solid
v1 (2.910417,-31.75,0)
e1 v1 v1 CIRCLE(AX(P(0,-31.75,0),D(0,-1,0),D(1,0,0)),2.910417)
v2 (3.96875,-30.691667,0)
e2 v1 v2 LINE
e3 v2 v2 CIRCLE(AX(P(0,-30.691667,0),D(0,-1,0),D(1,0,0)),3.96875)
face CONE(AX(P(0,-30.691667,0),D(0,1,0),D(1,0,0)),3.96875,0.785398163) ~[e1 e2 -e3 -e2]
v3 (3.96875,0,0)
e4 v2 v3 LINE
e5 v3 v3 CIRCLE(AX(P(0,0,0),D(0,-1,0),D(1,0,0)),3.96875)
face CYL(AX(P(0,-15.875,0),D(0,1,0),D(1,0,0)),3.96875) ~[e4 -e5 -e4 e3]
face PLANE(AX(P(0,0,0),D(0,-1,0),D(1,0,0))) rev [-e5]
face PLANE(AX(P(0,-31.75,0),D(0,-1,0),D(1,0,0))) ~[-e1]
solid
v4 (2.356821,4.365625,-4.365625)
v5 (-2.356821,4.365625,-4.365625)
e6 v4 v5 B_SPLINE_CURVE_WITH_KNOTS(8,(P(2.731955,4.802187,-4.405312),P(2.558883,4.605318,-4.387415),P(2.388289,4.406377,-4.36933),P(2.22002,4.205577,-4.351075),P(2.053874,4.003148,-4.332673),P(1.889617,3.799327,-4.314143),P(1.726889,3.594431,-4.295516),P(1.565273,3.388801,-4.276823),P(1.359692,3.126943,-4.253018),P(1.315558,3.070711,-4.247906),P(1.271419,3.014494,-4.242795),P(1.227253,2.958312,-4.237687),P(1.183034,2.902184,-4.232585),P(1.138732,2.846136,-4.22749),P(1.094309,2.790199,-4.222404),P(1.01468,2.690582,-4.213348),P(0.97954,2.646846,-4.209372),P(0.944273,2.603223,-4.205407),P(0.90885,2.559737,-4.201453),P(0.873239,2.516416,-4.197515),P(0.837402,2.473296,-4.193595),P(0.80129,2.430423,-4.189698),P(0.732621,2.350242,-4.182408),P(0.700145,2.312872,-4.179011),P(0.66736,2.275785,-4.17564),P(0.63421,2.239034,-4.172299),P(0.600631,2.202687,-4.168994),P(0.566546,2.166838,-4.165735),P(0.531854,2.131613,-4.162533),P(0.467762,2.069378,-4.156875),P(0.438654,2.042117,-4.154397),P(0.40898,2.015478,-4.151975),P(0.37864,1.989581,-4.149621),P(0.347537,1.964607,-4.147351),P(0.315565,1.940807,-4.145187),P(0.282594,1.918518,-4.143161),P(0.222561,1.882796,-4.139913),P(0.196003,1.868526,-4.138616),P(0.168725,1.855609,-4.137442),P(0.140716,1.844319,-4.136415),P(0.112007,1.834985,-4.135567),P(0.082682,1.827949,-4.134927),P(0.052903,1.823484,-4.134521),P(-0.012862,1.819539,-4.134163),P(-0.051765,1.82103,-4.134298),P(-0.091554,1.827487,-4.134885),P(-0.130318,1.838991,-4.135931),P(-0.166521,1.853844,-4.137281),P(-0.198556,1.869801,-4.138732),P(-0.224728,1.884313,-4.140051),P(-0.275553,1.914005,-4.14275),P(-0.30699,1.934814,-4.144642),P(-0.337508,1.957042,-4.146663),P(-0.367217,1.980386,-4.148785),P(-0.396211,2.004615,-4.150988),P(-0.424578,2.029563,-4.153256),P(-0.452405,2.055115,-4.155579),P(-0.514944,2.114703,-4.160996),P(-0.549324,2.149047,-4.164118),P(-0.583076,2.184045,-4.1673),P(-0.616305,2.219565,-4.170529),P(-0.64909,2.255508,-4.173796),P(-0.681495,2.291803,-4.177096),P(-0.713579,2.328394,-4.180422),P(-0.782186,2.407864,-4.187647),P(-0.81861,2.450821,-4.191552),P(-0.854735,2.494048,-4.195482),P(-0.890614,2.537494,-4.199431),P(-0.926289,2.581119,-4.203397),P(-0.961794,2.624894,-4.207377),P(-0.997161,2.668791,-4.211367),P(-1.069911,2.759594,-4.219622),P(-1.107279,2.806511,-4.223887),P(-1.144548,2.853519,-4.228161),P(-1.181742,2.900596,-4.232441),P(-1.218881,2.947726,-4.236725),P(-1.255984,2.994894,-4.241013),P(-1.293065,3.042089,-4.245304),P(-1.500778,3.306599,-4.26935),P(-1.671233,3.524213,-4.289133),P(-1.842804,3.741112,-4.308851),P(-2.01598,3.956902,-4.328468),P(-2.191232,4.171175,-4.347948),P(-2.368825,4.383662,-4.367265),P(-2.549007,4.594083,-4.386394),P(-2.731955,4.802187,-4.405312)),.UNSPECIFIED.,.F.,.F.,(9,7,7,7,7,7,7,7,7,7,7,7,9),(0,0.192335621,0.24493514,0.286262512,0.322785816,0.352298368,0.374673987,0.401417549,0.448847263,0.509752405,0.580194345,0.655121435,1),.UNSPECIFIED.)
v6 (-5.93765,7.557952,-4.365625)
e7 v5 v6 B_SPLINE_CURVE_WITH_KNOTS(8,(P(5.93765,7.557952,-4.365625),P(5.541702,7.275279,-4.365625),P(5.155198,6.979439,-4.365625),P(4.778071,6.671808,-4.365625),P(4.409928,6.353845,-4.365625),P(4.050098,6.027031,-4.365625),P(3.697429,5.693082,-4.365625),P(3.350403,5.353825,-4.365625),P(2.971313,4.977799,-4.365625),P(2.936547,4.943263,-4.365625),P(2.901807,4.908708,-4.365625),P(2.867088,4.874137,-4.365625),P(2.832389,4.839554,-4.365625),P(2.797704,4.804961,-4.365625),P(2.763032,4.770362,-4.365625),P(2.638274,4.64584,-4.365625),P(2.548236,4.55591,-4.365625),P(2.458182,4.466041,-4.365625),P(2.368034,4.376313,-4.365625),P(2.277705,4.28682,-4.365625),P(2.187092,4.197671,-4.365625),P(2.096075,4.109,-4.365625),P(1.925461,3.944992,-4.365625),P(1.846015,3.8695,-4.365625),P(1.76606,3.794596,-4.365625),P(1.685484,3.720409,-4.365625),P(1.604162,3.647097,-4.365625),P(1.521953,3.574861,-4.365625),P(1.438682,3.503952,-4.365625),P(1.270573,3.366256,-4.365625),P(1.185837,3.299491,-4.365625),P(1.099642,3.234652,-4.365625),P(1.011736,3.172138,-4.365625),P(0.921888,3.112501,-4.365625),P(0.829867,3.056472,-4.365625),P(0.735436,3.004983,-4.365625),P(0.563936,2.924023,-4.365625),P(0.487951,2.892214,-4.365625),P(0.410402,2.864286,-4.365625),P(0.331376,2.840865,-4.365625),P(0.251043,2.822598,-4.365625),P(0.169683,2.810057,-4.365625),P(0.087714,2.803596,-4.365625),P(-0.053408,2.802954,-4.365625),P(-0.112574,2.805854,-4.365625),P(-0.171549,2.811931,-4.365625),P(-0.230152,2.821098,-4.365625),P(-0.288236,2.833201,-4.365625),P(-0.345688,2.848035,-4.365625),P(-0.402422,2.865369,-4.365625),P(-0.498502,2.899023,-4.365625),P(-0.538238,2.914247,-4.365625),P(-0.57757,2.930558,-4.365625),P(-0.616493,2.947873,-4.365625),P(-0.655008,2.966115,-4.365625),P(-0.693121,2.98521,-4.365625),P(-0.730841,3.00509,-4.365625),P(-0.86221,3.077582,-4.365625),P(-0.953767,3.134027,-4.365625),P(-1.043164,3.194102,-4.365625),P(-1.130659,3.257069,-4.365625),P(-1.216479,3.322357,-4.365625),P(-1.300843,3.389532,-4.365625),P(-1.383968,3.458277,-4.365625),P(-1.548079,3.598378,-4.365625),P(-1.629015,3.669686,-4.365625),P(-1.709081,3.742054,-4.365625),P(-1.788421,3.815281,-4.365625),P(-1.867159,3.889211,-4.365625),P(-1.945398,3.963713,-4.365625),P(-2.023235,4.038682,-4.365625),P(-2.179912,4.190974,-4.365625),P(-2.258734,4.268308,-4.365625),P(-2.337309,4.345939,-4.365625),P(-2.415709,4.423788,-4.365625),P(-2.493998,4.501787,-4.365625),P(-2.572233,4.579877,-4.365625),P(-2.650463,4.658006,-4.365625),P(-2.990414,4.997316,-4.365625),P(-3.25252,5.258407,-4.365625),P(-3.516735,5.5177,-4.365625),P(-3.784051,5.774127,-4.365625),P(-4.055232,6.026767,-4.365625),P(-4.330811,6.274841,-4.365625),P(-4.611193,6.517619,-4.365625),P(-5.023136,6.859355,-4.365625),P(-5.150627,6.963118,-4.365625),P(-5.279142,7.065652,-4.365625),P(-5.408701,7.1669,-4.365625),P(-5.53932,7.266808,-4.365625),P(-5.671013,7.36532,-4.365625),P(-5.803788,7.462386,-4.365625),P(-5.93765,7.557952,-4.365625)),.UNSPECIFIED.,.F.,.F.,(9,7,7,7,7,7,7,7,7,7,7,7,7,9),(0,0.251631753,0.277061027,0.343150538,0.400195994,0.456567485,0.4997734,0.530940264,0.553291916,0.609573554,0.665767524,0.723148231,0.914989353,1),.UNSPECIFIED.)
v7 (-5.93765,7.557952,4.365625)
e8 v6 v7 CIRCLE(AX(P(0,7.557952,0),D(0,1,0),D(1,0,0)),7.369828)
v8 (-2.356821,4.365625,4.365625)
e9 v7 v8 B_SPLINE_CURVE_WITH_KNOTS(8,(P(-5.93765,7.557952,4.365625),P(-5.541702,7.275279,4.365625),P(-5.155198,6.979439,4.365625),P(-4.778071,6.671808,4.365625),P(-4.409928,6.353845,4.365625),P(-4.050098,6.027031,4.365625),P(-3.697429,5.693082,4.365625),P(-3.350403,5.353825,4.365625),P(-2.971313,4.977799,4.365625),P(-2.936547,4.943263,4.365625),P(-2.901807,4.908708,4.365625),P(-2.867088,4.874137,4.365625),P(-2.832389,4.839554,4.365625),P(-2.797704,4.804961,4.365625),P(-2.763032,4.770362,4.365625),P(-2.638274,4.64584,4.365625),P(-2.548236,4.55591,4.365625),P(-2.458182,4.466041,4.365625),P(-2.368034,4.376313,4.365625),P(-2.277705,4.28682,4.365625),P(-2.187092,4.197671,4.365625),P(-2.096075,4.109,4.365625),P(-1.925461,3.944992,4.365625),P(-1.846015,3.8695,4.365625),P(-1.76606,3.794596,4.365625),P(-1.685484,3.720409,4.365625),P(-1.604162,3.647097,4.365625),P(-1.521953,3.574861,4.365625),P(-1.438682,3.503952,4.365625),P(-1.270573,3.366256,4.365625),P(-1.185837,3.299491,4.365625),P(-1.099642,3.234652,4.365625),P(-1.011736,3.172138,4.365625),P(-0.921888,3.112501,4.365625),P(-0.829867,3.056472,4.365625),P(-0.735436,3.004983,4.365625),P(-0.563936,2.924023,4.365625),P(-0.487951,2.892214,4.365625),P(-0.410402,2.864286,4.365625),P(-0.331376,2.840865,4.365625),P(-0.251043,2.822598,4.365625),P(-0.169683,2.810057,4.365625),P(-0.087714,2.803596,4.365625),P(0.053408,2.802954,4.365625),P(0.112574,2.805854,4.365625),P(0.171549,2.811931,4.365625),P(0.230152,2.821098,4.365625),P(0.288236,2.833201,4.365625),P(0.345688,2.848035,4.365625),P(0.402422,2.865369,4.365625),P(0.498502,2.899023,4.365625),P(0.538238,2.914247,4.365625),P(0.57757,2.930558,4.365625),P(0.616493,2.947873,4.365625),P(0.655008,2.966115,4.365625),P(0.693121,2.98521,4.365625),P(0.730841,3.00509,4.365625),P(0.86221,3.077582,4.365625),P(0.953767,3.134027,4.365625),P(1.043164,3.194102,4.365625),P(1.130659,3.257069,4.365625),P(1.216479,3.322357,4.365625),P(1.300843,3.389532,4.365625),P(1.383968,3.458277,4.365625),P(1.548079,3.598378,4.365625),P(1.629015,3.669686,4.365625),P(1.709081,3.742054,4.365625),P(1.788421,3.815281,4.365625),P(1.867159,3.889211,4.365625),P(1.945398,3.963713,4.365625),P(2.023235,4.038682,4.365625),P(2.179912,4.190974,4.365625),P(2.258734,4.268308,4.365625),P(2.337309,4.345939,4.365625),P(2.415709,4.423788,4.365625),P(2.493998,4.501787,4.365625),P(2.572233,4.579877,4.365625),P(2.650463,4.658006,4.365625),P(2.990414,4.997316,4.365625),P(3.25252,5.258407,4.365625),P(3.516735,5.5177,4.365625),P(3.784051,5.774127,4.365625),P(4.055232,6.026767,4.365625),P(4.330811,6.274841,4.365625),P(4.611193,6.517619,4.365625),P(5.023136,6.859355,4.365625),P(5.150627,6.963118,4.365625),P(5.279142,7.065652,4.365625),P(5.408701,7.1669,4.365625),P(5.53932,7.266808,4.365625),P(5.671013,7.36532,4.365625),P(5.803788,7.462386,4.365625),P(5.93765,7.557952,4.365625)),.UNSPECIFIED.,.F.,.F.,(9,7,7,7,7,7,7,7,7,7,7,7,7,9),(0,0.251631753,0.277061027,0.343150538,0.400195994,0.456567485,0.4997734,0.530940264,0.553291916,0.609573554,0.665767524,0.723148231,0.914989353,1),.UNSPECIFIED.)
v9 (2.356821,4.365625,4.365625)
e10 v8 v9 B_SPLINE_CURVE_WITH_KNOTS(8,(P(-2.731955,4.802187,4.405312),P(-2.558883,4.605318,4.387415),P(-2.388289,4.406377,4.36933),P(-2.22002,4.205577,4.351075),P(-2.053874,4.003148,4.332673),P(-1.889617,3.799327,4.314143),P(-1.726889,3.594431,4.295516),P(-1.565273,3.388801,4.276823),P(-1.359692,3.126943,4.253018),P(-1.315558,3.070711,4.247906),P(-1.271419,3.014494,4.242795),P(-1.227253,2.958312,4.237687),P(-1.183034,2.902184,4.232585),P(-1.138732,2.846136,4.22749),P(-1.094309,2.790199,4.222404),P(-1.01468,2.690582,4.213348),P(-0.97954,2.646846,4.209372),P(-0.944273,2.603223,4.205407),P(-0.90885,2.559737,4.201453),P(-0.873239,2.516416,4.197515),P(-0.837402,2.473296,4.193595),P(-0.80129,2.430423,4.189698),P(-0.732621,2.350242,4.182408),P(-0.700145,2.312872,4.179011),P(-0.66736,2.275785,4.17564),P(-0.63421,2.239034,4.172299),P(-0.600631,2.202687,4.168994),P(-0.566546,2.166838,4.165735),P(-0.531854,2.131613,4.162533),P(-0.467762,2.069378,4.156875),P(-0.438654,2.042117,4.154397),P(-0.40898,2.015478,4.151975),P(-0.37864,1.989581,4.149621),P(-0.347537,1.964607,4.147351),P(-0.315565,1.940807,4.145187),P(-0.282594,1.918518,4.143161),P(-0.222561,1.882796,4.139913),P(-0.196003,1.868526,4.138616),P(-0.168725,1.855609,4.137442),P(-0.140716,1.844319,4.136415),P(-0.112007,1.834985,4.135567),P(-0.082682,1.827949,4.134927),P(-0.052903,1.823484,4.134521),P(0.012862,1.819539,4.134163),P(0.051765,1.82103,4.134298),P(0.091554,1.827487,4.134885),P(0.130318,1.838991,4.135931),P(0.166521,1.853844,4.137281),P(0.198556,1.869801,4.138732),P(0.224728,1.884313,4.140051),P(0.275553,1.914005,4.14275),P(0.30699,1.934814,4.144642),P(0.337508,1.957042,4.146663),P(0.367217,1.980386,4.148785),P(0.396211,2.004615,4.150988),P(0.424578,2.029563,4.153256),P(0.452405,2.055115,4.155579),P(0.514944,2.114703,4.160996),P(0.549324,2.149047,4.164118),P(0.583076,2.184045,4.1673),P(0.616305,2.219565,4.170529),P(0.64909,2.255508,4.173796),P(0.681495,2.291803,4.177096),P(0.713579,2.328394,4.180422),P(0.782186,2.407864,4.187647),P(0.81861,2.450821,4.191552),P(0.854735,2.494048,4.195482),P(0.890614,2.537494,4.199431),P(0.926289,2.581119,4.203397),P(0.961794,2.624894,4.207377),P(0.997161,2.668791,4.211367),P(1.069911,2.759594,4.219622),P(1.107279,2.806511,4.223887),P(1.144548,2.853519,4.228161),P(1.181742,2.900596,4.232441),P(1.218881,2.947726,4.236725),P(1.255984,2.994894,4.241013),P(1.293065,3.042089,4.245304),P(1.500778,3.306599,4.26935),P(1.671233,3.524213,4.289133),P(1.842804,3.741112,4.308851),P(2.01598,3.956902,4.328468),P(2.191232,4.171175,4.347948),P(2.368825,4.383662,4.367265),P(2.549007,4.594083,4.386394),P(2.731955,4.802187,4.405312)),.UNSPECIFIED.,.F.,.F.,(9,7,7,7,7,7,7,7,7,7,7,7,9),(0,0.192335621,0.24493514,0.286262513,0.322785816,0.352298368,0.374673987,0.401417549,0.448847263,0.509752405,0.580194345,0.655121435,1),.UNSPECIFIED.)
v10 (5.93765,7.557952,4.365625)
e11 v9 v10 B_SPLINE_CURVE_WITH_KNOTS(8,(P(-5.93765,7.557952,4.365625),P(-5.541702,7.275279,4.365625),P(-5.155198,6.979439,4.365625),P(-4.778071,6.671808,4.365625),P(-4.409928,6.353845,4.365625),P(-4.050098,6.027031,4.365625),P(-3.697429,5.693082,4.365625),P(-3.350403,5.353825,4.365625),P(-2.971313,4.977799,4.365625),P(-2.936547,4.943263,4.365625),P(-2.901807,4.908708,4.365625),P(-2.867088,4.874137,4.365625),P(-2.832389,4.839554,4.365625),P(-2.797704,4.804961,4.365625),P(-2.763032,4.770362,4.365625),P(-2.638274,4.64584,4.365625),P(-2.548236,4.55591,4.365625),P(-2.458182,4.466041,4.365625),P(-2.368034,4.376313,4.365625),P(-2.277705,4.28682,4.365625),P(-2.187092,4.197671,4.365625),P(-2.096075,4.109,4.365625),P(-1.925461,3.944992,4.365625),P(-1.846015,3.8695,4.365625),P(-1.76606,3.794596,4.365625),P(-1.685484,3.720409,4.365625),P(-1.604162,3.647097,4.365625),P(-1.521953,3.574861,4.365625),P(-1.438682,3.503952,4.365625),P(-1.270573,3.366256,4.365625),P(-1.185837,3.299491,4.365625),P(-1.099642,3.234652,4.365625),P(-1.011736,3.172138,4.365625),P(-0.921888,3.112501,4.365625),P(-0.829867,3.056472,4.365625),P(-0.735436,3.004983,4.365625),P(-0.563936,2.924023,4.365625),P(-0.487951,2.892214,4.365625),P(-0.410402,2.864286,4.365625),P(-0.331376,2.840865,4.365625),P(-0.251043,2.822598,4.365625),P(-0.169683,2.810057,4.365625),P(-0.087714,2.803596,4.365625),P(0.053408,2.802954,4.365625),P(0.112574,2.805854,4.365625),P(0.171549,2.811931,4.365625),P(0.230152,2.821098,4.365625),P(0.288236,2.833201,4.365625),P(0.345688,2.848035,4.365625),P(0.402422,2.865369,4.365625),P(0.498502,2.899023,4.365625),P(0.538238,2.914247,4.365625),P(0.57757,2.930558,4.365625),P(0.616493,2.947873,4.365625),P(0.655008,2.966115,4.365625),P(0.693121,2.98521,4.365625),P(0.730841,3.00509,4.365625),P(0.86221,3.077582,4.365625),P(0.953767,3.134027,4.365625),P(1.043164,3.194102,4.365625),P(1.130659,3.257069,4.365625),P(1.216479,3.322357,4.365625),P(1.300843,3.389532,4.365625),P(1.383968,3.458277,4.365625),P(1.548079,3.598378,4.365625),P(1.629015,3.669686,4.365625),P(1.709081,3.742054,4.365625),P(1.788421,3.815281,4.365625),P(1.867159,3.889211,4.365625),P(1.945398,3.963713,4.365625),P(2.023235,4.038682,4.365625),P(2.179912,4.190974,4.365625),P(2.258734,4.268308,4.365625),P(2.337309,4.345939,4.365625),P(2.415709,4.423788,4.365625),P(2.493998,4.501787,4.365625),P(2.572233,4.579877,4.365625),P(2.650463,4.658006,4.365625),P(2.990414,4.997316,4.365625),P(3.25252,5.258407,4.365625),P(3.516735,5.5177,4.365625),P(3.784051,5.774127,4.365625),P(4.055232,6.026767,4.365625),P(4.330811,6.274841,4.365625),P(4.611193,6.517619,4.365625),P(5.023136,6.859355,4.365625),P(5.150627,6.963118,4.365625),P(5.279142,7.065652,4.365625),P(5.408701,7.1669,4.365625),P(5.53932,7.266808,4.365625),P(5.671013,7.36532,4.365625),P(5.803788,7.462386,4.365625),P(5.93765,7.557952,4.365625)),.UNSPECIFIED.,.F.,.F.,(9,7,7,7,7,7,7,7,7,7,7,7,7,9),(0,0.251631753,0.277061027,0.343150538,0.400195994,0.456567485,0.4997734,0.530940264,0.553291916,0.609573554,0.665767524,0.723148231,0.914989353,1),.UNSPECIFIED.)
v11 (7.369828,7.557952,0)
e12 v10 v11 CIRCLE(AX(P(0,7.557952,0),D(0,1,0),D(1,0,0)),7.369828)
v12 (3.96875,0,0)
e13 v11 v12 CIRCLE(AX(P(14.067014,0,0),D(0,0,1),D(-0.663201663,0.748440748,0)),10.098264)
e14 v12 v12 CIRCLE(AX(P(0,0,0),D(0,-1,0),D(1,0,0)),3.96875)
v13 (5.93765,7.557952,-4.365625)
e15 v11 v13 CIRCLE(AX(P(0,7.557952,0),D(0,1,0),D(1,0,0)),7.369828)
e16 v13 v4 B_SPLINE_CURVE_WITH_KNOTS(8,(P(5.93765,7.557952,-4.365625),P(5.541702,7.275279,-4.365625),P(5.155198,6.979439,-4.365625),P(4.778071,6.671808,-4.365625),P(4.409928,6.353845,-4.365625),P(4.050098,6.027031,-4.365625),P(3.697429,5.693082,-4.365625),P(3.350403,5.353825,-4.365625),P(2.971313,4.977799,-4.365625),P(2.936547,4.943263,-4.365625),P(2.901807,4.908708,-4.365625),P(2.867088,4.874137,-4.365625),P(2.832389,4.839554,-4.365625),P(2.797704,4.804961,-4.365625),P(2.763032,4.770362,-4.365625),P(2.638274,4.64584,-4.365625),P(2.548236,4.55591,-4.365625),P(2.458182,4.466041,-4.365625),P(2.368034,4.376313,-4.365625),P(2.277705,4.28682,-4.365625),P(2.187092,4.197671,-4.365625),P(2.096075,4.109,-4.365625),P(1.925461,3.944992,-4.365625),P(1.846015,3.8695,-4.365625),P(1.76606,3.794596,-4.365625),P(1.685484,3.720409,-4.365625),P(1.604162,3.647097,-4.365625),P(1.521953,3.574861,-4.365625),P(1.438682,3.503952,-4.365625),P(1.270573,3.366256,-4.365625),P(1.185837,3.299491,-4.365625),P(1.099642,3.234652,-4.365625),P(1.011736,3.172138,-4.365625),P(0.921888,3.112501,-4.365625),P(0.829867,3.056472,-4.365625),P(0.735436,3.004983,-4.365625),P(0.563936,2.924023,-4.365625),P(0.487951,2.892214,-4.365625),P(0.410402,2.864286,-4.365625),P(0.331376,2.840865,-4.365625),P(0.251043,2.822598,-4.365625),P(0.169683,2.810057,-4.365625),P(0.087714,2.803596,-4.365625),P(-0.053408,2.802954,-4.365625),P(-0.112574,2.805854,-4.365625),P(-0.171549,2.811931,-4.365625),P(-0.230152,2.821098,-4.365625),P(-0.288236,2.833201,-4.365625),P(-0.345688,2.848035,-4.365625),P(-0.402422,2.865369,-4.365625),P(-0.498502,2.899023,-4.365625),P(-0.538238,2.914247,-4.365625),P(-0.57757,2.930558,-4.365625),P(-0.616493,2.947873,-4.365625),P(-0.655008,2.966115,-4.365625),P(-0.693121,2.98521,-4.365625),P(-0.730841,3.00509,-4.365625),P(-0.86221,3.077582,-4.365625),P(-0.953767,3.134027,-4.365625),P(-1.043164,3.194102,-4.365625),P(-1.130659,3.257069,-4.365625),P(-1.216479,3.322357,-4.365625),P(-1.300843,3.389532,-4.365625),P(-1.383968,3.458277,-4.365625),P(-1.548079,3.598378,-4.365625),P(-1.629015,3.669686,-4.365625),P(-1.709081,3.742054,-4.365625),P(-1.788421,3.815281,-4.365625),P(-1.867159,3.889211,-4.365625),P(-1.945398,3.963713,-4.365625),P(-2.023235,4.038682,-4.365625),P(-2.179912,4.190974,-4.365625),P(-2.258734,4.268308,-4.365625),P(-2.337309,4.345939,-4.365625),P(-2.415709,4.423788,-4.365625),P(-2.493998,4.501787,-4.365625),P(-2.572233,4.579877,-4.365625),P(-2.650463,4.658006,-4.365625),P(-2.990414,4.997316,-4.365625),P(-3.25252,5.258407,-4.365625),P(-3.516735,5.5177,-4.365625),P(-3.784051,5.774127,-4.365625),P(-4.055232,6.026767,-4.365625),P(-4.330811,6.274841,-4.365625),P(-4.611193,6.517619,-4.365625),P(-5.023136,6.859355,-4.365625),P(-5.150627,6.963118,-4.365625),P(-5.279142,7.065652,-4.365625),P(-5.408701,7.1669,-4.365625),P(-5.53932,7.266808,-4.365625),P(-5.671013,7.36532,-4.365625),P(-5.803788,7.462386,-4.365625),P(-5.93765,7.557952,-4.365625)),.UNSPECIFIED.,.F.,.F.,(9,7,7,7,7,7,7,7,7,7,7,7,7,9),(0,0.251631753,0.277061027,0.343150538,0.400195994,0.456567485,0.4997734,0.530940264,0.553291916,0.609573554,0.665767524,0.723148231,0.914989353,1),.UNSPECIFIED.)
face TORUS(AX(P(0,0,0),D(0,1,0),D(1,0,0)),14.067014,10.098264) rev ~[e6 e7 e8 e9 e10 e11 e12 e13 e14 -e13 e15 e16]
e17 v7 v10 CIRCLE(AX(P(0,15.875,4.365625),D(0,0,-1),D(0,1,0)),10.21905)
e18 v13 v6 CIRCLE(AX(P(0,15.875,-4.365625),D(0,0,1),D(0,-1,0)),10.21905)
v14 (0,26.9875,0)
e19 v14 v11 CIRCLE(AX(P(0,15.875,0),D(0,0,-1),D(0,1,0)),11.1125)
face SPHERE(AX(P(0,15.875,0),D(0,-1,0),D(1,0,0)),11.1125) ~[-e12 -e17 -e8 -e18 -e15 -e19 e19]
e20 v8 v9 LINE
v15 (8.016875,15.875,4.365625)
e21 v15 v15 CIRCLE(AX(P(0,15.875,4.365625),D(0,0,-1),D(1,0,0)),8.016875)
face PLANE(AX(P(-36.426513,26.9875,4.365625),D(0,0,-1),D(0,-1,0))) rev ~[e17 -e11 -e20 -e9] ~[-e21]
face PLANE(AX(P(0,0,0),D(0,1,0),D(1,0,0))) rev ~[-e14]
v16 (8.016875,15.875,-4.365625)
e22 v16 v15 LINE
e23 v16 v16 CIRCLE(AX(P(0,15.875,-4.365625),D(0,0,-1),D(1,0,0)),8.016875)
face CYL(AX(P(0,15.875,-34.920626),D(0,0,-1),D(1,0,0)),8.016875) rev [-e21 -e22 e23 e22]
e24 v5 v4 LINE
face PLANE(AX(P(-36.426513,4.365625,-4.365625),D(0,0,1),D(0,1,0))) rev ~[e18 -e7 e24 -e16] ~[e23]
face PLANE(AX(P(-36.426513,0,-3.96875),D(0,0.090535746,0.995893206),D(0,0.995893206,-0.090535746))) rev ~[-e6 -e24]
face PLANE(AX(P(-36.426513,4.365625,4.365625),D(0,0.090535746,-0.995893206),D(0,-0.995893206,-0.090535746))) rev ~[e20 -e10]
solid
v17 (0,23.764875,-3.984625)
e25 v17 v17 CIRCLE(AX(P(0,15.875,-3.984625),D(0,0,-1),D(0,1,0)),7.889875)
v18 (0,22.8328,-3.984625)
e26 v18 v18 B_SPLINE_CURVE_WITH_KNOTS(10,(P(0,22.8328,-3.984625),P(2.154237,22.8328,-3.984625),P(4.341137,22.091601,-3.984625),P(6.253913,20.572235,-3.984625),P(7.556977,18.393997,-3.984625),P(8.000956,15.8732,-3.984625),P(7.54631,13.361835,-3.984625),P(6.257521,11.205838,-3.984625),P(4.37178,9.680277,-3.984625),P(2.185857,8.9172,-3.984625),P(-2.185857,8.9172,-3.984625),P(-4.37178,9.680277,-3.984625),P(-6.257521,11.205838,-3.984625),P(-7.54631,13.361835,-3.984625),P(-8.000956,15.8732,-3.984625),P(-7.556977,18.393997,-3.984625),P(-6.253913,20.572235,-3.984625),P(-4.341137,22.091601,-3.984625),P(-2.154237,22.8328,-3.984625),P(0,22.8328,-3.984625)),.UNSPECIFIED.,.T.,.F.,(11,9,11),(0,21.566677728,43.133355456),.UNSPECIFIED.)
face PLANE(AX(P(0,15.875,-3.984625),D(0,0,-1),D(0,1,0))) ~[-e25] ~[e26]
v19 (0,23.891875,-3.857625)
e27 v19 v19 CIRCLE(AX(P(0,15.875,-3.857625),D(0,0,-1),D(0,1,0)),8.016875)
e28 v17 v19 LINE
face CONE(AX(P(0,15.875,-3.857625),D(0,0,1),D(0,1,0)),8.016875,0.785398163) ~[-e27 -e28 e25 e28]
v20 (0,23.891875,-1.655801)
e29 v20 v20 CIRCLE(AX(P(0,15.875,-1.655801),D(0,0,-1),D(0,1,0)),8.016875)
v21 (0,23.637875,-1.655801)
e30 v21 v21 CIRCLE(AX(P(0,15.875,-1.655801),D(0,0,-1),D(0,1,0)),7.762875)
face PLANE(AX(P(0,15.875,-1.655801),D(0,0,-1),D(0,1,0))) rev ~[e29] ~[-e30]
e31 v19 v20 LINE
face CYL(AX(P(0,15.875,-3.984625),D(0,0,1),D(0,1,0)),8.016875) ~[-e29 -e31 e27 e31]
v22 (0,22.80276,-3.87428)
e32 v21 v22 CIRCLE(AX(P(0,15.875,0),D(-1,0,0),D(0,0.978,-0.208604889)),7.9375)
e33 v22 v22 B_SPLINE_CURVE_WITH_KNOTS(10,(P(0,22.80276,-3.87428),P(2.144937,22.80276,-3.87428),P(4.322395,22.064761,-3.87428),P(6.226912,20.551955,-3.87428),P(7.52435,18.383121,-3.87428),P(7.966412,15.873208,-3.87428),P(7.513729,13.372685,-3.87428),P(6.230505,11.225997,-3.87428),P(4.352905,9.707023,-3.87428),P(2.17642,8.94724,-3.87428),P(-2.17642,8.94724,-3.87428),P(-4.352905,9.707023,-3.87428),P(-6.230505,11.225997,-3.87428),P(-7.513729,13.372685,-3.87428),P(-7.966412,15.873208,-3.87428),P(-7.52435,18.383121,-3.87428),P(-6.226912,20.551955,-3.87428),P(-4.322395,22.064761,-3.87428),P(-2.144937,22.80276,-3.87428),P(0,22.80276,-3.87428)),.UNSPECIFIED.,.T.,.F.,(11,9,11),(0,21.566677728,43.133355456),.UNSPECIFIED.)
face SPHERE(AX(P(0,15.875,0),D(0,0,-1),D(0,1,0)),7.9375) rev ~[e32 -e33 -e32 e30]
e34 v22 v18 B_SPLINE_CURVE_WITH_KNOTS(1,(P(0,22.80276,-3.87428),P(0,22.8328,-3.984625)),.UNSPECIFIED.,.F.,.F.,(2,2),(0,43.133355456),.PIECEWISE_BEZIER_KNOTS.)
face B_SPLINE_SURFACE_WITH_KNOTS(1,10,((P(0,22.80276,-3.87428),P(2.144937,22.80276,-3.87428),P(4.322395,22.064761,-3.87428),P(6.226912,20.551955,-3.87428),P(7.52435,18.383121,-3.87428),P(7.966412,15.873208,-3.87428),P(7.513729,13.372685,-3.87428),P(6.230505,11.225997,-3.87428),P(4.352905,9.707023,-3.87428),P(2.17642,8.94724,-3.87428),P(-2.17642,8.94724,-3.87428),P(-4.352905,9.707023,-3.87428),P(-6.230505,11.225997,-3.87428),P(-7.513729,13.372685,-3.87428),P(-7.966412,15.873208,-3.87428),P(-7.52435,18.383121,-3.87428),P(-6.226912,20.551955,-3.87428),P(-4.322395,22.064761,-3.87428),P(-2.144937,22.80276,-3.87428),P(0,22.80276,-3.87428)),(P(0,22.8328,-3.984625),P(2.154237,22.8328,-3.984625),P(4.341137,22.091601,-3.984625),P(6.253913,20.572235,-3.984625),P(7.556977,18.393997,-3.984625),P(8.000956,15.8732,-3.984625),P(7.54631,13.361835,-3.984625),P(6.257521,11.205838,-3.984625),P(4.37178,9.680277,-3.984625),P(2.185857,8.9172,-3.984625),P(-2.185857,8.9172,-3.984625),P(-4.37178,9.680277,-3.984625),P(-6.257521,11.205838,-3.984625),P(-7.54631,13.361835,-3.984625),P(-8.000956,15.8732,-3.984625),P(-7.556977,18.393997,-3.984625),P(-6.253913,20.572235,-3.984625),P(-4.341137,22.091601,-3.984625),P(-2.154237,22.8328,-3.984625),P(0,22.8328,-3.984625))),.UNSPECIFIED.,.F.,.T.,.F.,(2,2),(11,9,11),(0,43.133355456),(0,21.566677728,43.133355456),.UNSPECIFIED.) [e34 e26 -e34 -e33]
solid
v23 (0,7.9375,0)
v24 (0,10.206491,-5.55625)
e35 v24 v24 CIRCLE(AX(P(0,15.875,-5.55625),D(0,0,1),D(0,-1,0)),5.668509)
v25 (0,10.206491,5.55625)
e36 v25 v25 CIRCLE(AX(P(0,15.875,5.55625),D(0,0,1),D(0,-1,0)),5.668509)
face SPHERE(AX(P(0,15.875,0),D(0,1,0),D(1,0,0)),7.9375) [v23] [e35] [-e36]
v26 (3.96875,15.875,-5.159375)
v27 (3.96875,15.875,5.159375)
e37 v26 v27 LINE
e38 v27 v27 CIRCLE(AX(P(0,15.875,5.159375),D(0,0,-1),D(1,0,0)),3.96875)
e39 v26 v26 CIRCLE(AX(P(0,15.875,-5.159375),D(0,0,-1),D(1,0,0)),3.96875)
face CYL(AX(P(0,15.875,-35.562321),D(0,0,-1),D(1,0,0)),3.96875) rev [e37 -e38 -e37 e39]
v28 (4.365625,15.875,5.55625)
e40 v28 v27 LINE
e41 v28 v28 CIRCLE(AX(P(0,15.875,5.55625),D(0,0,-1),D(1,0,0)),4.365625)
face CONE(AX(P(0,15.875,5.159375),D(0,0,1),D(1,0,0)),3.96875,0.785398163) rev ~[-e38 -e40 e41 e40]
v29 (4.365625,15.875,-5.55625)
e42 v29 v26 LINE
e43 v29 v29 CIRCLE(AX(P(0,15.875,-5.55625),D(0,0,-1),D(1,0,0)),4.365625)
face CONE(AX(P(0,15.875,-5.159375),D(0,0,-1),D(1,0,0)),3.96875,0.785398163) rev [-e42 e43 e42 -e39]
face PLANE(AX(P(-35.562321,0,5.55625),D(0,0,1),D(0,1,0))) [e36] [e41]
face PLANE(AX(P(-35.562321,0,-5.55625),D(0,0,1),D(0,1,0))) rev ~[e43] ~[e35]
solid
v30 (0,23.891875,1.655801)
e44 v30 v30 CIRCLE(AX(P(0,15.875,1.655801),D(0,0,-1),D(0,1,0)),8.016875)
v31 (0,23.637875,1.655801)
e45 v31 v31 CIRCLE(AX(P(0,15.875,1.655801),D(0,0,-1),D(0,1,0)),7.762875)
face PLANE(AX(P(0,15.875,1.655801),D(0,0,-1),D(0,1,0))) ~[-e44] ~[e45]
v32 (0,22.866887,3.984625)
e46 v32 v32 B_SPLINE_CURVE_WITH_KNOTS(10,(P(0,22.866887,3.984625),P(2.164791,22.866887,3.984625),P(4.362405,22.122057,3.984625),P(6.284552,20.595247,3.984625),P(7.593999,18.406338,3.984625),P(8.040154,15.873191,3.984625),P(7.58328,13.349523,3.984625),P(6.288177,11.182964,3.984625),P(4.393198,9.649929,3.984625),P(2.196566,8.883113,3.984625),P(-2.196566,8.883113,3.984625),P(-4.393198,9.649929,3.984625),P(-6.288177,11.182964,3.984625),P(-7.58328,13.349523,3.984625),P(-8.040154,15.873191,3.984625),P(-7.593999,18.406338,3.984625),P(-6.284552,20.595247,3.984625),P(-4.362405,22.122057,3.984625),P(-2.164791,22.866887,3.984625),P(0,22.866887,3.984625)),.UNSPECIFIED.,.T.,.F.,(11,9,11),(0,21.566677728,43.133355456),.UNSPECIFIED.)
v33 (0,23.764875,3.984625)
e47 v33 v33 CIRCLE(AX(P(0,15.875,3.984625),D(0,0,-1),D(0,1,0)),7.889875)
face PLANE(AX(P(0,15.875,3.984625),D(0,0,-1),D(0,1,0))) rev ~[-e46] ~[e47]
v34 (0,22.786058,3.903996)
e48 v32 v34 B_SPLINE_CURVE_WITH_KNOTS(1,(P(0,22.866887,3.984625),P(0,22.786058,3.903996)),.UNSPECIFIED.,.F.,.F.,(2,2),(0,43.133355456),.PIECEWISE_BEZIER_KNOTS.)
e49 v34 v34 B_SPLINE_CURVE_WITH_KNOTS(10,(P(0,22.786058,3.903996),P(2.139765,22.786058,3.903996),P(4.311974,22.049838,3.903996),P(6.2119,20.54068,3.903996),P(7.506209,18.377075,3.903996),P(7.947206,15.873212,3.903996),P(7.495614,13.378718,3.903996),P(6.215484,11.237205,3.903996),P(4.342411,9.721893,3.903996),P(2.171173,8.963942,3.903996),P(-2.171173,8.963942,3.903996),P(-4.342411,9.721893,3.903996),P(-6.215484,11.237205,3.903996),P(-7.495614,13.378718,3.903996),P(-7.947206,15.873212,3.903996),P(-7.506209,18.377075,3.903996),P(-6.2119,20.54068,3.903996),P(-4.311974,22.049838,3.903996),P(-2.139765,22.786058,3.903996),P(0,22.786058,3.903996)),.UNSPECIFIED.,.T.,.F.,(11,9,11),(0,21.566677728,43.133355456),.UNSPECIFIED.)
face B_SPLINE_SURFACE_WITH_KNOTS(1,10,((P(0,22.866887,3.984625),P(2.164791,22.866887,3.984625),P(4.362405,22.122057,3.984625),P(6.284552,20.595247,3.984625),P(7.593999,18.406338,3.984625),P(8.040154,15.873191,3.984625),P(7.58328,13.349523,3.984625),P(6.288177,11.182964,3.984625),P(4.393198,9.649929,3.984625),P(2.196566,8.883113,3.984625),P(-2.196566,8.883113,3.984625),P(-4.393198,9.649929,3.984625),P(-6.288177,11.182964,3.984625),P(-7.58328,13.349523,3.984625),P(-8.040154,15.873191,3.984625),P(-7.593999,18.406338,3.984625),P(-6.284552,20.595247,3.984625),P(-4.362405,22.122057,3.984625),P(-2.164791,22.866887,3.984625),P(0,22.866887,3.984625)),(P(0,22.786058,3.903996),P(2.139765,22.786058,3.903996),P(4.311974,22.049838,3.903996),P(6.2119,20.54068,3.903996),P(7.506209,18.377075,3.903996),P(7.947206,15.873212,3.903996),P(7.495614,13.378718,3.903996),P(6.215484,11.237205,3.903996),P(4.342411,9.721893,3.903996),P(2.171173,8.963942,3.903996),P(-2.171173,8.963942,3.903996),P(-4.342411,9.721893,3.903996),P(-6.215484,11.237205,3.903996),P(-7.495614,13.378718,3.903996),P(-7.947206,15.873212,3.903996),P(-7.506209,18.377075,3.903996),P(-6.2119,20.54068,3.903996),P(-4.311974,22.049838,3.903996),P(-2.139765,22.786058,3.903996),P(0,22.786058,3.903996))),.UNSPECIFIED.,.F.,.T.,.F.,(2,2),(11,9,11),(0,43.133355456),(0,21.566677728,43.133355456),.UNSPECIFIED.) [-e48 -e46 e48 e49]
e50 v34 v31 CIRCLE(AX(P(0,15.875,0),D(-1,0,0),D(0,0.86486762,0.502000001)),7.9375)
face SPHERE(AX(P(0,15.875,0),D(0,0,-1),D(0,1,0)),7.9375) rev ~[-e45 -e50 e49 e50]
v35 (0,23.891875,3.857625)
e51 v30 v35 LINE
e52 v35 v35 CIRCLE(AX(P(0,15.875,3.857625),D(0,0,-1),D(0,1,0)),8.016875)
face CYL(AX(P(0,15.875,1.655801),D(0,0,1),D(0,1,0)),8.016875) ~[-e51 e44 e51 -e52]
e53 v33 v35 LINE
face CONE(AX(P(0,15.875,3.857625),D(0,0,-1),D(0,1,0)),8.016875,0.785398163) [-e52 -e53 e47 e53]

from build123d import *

# Parameters (mm, degrees)
SKETCH1_W               = 3.96875
SKETCH1_H               = 31.75
CHAMFER2_SIZE           = 1.058333333
CUT_EXTRUDE1_DEPTH      = 36.426512847
CUT_EXTRUDE1_DEPTH_BACK = 36.426512847
CUT_EXTRUDE2_DEPTH      = 34.920625566
CUT_EXTRUDE2_DEPTH_BACK = 34.920625566
SKETCH6_R               = 8.016875
CUT_EXTRUDE3_DEPTH      = 35.562321428
CUT_EXTRUDE3_DEPTH_BACK = 35.562321428
SKETCH8_W               = 5.55625
SKETCH8_H               = 26.9875
CUT_EXTRUDE4_DEPTH      = 35.562321428
CUT_EXTRUDE4_DEPTH_BACK = 35.562321428
SKETCH10_R              = 3.96875
CHAMFER1_SIZE           = 0.396875
CHAMFER3_SIZE           = 0.127
CHAMFER3_PART_2_SIZE    = 0.127
CHAMFER3_PART_2_SIZE2   = 0.092913167
CHAMFER4_SIZE           = 0.127
CHAMFER4_SIZE2          = 0.092913167
CHAMFER4_PART_2_SIZE    = 0.127


with BuildPart() as part:
    # Sketch1 → Revolve1 (revolve)
    with BuildSketch(Plane.XY):
        with Locations((1.984375, -15.875)):
            Rectangle(SKETCH1_W, SKETCH1_H)
    revolve(axis=Axis((0, 26.9875, 0), (0, -1, 0)))

    # Chamfer2
    chamfer2_edges = [part.edges().sort_by_distance(p)[0] for p in [
        (-3.96875, -31.75, 0),
    ]]
    chamfer(chamfer2_edges, length=CHAMFER2_SIZE)


with BuildPart() as body_2:
    # Sketch4 → Revolve2 (revolve)
    with BuildSketch(Plane.XY):
        with BuildLine():
            Line((3.96875, 0), (0, 0))
            Line((0, 0), (0, 26.9875))
            ThreePointArc((0, 26.9875), (10.390160011, 19.816095177), (7.369828482, 7.557952183))
            ThreePointArc((7.369828482, 7.557952183), (4.858189884, 4.143970802), (3.96875, 0))
        make_face()
    revolve(axis=Axis((0, 26.9875, 0), (0, 1, 0)))

    # Sketch5 → Cut-Extrude1 (cut, two sides: drawn at the far end of the back side and taken through both)
    with BuildSketch(Plane(origin=(0, 0, 0), x_dir=(0, 0, -1), z_dir=(1, 0, 0)).offset(-CUT_EXTRUDE1_DEPTH_BACK)):
        Polygon((4.365625, 26.9875), (11.1125, 26.9875), (11.1125, 0), (3.96875, 0), (4.365625, 4.365625), align=None)
        Polygon((-4.365625, 26.9875), (-4.365625, 4.365625), (-3.96875, 0), (-11.1125, 0), (-11.1125, 26.9875), align=None)
    extrude(amount=CUT_EXTRUDE1_DEPTH + CUT_EXTRUDE1_DEPTH_BACK, mode=Mode.SUBTRACT)

    # Sketch6 → Cut-Extrude2 (cut, two sides: drawn at the far end of the back side and taken through both)
    with BuildSketch(Plane.XY.offset(-CUT_EXTRUDE2_DEPTH_BACK)):
        with Locations((0, 15.875)):
            Circle(SKETCH6_R)
    extrude(amount=CUT_EXTRUDE2_DEPTH + CUT_EXTRUDE2_DEPTH_BACK, mode=Mode.SUBTRACT)


with BuildPart() as body_3:
    # Sketch7 → Revolve3 (revolve)
    with BuildSketch(Plane.XY):
        with BuildLine():
            Line((0, 23.8125), (0, 7.9375))
            ThreePointArc((0, 7.9375), (7.9375, 15.875), (0, 23.8125))
        make_face()
    revolve(axis=Axis((0, 0, 0), (0, 1, 0)))

    # Sketch8 → Cut-Extrude3 (cut, two sides: drawn at the far end of the back side and taken through both)
    with BuildSketch(Plane(origin=(0, 0, 0), x_dir=(0, 0, -1), z_dir=(1, 0, 0)).offset(-CUT_EXTRUDE3_DEPTH_BACK)):
        with Locations((-8.334375, 13.49375)):
            Rectangle(SKETCH8_W, SKETCH8_H)
        with Locations((8.334375, 13.49375)):
            Rectangle(SKETCH8_W, SKETCH8_H)
    extrude(amount=CUT_EXTRUDE3_DEPTH + CUT_EXTRUDE3_DEPTH_BACK, mode=Mode.SUBTRACT)

    # Sketch10 → Cut-Extrude4 (cut, two sides: drawn at the far end of the back side and taken through both)
    with BuildSketch(Plane.XY.offset(-CUT_EXTRUDE4_DEPTH_BACK)):
        with Locations((0, 15.875)):
            Circle(SKETCH10_R)
    extrude(amount=CUT_EXTRUDE4_DEPTH + CUT_EXTRUDE4_DEPTH_BACK, mode=Mode.SUBTRACT)

    # Chamfer1
    chamfer1_edges = [body_3.edges().sort_by_distance(p)[0] for p in [
        (-3.96875, 15.875, -5.55625),
        (-3.96875, 15.875, 5.55625),
    ]]
    chamfer(chamfer1_edges, length=CHAMFER1_SIZE)


with BuildPart() as body_4:
    # Sketch14 → Revolve4 (revolve)
    with BuildSketch(Plane(origin=(0, 0, 0), x_dir=(0, 0, -1), z_dir=(1, 0, 0))):
        with BuildLine():
            Line((-3.984625, 23.891875), (-3.984625, 22.739886733))
            ThreePointArc((-3.984625, 22.739886733), (-2.855730726, 23.280991377), (-1.655801312, 23.637875))
            Line((-1.655801312, 23.637875), (-1.655801312, 23.891875))
            Line((-1.655801312, 23.891875), (-3.984625, 23.891875))
        make_face()
        with BuildLine():
            Line((3.984625, 22.739886733), (3.984625, 23.891875))
            Line((3.984625, 23.891875), (1.655801312, 23.891875))
            Line((1.655801312, 23.891875), (1.655801312, 23.637875))
            ThreePointArc((1.655801312, 23.637875), (2.855730726, 23.280991377), (3.984625, 22.739886733))
        make_face()
    revolve(axis=Axis((0, 15.875, 5.55625), (0, 0, -1)))

    # Chamfer3
    chamfer3_edges = [body_4.edges().sort_by_distance(p)[0] for p in [
        (0, 7.858125, 3.984625),
    ]]
    chamfer(chamfer3_edges, length=CHAMFER3_SIZE)

    # Chamfer3 part 2
    chamfer3_part_2_edges = [body_4.edges().sort_by_distance(p)[0] for p in [
        (0, 9.010113267, 3.984625),
    ]]
    chamfer3_part_2_side = [body_4.faces().sort_by_distance(p)[0] for p in [
        (0, 8.084876467, 3.984625),
    ]]
    chamfer(chamfer3_part_2_edges, length=CHAMFER3_PART_2_SIZE, length2=CHAMFER3_PART_2_SIZE2, reference=chamfer3_part_2_side[0])

    # Chamfer4
    chamfer4_edges = [body_4.edges().sort_by_distance(p)[0] for p in [
        (0, 9.010113267, -3.984625),
    ]]
    chamfer4_side = [body_4.faces().sort_by_distance(p)[0] for p in [
        (0, 8.469008623, -2.855730726),
    ]]
    chamfer(chamfer4_edges, length=CHAMFER4_SIZE, length2=CHAMFER4_SIZE2, reference=chamfer4_side[0])

    # Chamfer4 part 2
    chamfer4_part_2_edges = [body_4.edges().sort_by_distance(p)[0] for p in [
        (0, 7.858125, -3.984625),
    ]]
    chamfer(chamfer4_part_2_edges, length=CHAMFER4_PART_2_SIZE)


solid = Compound([part.part, body_2.part, body_3.part, body_4.part])
